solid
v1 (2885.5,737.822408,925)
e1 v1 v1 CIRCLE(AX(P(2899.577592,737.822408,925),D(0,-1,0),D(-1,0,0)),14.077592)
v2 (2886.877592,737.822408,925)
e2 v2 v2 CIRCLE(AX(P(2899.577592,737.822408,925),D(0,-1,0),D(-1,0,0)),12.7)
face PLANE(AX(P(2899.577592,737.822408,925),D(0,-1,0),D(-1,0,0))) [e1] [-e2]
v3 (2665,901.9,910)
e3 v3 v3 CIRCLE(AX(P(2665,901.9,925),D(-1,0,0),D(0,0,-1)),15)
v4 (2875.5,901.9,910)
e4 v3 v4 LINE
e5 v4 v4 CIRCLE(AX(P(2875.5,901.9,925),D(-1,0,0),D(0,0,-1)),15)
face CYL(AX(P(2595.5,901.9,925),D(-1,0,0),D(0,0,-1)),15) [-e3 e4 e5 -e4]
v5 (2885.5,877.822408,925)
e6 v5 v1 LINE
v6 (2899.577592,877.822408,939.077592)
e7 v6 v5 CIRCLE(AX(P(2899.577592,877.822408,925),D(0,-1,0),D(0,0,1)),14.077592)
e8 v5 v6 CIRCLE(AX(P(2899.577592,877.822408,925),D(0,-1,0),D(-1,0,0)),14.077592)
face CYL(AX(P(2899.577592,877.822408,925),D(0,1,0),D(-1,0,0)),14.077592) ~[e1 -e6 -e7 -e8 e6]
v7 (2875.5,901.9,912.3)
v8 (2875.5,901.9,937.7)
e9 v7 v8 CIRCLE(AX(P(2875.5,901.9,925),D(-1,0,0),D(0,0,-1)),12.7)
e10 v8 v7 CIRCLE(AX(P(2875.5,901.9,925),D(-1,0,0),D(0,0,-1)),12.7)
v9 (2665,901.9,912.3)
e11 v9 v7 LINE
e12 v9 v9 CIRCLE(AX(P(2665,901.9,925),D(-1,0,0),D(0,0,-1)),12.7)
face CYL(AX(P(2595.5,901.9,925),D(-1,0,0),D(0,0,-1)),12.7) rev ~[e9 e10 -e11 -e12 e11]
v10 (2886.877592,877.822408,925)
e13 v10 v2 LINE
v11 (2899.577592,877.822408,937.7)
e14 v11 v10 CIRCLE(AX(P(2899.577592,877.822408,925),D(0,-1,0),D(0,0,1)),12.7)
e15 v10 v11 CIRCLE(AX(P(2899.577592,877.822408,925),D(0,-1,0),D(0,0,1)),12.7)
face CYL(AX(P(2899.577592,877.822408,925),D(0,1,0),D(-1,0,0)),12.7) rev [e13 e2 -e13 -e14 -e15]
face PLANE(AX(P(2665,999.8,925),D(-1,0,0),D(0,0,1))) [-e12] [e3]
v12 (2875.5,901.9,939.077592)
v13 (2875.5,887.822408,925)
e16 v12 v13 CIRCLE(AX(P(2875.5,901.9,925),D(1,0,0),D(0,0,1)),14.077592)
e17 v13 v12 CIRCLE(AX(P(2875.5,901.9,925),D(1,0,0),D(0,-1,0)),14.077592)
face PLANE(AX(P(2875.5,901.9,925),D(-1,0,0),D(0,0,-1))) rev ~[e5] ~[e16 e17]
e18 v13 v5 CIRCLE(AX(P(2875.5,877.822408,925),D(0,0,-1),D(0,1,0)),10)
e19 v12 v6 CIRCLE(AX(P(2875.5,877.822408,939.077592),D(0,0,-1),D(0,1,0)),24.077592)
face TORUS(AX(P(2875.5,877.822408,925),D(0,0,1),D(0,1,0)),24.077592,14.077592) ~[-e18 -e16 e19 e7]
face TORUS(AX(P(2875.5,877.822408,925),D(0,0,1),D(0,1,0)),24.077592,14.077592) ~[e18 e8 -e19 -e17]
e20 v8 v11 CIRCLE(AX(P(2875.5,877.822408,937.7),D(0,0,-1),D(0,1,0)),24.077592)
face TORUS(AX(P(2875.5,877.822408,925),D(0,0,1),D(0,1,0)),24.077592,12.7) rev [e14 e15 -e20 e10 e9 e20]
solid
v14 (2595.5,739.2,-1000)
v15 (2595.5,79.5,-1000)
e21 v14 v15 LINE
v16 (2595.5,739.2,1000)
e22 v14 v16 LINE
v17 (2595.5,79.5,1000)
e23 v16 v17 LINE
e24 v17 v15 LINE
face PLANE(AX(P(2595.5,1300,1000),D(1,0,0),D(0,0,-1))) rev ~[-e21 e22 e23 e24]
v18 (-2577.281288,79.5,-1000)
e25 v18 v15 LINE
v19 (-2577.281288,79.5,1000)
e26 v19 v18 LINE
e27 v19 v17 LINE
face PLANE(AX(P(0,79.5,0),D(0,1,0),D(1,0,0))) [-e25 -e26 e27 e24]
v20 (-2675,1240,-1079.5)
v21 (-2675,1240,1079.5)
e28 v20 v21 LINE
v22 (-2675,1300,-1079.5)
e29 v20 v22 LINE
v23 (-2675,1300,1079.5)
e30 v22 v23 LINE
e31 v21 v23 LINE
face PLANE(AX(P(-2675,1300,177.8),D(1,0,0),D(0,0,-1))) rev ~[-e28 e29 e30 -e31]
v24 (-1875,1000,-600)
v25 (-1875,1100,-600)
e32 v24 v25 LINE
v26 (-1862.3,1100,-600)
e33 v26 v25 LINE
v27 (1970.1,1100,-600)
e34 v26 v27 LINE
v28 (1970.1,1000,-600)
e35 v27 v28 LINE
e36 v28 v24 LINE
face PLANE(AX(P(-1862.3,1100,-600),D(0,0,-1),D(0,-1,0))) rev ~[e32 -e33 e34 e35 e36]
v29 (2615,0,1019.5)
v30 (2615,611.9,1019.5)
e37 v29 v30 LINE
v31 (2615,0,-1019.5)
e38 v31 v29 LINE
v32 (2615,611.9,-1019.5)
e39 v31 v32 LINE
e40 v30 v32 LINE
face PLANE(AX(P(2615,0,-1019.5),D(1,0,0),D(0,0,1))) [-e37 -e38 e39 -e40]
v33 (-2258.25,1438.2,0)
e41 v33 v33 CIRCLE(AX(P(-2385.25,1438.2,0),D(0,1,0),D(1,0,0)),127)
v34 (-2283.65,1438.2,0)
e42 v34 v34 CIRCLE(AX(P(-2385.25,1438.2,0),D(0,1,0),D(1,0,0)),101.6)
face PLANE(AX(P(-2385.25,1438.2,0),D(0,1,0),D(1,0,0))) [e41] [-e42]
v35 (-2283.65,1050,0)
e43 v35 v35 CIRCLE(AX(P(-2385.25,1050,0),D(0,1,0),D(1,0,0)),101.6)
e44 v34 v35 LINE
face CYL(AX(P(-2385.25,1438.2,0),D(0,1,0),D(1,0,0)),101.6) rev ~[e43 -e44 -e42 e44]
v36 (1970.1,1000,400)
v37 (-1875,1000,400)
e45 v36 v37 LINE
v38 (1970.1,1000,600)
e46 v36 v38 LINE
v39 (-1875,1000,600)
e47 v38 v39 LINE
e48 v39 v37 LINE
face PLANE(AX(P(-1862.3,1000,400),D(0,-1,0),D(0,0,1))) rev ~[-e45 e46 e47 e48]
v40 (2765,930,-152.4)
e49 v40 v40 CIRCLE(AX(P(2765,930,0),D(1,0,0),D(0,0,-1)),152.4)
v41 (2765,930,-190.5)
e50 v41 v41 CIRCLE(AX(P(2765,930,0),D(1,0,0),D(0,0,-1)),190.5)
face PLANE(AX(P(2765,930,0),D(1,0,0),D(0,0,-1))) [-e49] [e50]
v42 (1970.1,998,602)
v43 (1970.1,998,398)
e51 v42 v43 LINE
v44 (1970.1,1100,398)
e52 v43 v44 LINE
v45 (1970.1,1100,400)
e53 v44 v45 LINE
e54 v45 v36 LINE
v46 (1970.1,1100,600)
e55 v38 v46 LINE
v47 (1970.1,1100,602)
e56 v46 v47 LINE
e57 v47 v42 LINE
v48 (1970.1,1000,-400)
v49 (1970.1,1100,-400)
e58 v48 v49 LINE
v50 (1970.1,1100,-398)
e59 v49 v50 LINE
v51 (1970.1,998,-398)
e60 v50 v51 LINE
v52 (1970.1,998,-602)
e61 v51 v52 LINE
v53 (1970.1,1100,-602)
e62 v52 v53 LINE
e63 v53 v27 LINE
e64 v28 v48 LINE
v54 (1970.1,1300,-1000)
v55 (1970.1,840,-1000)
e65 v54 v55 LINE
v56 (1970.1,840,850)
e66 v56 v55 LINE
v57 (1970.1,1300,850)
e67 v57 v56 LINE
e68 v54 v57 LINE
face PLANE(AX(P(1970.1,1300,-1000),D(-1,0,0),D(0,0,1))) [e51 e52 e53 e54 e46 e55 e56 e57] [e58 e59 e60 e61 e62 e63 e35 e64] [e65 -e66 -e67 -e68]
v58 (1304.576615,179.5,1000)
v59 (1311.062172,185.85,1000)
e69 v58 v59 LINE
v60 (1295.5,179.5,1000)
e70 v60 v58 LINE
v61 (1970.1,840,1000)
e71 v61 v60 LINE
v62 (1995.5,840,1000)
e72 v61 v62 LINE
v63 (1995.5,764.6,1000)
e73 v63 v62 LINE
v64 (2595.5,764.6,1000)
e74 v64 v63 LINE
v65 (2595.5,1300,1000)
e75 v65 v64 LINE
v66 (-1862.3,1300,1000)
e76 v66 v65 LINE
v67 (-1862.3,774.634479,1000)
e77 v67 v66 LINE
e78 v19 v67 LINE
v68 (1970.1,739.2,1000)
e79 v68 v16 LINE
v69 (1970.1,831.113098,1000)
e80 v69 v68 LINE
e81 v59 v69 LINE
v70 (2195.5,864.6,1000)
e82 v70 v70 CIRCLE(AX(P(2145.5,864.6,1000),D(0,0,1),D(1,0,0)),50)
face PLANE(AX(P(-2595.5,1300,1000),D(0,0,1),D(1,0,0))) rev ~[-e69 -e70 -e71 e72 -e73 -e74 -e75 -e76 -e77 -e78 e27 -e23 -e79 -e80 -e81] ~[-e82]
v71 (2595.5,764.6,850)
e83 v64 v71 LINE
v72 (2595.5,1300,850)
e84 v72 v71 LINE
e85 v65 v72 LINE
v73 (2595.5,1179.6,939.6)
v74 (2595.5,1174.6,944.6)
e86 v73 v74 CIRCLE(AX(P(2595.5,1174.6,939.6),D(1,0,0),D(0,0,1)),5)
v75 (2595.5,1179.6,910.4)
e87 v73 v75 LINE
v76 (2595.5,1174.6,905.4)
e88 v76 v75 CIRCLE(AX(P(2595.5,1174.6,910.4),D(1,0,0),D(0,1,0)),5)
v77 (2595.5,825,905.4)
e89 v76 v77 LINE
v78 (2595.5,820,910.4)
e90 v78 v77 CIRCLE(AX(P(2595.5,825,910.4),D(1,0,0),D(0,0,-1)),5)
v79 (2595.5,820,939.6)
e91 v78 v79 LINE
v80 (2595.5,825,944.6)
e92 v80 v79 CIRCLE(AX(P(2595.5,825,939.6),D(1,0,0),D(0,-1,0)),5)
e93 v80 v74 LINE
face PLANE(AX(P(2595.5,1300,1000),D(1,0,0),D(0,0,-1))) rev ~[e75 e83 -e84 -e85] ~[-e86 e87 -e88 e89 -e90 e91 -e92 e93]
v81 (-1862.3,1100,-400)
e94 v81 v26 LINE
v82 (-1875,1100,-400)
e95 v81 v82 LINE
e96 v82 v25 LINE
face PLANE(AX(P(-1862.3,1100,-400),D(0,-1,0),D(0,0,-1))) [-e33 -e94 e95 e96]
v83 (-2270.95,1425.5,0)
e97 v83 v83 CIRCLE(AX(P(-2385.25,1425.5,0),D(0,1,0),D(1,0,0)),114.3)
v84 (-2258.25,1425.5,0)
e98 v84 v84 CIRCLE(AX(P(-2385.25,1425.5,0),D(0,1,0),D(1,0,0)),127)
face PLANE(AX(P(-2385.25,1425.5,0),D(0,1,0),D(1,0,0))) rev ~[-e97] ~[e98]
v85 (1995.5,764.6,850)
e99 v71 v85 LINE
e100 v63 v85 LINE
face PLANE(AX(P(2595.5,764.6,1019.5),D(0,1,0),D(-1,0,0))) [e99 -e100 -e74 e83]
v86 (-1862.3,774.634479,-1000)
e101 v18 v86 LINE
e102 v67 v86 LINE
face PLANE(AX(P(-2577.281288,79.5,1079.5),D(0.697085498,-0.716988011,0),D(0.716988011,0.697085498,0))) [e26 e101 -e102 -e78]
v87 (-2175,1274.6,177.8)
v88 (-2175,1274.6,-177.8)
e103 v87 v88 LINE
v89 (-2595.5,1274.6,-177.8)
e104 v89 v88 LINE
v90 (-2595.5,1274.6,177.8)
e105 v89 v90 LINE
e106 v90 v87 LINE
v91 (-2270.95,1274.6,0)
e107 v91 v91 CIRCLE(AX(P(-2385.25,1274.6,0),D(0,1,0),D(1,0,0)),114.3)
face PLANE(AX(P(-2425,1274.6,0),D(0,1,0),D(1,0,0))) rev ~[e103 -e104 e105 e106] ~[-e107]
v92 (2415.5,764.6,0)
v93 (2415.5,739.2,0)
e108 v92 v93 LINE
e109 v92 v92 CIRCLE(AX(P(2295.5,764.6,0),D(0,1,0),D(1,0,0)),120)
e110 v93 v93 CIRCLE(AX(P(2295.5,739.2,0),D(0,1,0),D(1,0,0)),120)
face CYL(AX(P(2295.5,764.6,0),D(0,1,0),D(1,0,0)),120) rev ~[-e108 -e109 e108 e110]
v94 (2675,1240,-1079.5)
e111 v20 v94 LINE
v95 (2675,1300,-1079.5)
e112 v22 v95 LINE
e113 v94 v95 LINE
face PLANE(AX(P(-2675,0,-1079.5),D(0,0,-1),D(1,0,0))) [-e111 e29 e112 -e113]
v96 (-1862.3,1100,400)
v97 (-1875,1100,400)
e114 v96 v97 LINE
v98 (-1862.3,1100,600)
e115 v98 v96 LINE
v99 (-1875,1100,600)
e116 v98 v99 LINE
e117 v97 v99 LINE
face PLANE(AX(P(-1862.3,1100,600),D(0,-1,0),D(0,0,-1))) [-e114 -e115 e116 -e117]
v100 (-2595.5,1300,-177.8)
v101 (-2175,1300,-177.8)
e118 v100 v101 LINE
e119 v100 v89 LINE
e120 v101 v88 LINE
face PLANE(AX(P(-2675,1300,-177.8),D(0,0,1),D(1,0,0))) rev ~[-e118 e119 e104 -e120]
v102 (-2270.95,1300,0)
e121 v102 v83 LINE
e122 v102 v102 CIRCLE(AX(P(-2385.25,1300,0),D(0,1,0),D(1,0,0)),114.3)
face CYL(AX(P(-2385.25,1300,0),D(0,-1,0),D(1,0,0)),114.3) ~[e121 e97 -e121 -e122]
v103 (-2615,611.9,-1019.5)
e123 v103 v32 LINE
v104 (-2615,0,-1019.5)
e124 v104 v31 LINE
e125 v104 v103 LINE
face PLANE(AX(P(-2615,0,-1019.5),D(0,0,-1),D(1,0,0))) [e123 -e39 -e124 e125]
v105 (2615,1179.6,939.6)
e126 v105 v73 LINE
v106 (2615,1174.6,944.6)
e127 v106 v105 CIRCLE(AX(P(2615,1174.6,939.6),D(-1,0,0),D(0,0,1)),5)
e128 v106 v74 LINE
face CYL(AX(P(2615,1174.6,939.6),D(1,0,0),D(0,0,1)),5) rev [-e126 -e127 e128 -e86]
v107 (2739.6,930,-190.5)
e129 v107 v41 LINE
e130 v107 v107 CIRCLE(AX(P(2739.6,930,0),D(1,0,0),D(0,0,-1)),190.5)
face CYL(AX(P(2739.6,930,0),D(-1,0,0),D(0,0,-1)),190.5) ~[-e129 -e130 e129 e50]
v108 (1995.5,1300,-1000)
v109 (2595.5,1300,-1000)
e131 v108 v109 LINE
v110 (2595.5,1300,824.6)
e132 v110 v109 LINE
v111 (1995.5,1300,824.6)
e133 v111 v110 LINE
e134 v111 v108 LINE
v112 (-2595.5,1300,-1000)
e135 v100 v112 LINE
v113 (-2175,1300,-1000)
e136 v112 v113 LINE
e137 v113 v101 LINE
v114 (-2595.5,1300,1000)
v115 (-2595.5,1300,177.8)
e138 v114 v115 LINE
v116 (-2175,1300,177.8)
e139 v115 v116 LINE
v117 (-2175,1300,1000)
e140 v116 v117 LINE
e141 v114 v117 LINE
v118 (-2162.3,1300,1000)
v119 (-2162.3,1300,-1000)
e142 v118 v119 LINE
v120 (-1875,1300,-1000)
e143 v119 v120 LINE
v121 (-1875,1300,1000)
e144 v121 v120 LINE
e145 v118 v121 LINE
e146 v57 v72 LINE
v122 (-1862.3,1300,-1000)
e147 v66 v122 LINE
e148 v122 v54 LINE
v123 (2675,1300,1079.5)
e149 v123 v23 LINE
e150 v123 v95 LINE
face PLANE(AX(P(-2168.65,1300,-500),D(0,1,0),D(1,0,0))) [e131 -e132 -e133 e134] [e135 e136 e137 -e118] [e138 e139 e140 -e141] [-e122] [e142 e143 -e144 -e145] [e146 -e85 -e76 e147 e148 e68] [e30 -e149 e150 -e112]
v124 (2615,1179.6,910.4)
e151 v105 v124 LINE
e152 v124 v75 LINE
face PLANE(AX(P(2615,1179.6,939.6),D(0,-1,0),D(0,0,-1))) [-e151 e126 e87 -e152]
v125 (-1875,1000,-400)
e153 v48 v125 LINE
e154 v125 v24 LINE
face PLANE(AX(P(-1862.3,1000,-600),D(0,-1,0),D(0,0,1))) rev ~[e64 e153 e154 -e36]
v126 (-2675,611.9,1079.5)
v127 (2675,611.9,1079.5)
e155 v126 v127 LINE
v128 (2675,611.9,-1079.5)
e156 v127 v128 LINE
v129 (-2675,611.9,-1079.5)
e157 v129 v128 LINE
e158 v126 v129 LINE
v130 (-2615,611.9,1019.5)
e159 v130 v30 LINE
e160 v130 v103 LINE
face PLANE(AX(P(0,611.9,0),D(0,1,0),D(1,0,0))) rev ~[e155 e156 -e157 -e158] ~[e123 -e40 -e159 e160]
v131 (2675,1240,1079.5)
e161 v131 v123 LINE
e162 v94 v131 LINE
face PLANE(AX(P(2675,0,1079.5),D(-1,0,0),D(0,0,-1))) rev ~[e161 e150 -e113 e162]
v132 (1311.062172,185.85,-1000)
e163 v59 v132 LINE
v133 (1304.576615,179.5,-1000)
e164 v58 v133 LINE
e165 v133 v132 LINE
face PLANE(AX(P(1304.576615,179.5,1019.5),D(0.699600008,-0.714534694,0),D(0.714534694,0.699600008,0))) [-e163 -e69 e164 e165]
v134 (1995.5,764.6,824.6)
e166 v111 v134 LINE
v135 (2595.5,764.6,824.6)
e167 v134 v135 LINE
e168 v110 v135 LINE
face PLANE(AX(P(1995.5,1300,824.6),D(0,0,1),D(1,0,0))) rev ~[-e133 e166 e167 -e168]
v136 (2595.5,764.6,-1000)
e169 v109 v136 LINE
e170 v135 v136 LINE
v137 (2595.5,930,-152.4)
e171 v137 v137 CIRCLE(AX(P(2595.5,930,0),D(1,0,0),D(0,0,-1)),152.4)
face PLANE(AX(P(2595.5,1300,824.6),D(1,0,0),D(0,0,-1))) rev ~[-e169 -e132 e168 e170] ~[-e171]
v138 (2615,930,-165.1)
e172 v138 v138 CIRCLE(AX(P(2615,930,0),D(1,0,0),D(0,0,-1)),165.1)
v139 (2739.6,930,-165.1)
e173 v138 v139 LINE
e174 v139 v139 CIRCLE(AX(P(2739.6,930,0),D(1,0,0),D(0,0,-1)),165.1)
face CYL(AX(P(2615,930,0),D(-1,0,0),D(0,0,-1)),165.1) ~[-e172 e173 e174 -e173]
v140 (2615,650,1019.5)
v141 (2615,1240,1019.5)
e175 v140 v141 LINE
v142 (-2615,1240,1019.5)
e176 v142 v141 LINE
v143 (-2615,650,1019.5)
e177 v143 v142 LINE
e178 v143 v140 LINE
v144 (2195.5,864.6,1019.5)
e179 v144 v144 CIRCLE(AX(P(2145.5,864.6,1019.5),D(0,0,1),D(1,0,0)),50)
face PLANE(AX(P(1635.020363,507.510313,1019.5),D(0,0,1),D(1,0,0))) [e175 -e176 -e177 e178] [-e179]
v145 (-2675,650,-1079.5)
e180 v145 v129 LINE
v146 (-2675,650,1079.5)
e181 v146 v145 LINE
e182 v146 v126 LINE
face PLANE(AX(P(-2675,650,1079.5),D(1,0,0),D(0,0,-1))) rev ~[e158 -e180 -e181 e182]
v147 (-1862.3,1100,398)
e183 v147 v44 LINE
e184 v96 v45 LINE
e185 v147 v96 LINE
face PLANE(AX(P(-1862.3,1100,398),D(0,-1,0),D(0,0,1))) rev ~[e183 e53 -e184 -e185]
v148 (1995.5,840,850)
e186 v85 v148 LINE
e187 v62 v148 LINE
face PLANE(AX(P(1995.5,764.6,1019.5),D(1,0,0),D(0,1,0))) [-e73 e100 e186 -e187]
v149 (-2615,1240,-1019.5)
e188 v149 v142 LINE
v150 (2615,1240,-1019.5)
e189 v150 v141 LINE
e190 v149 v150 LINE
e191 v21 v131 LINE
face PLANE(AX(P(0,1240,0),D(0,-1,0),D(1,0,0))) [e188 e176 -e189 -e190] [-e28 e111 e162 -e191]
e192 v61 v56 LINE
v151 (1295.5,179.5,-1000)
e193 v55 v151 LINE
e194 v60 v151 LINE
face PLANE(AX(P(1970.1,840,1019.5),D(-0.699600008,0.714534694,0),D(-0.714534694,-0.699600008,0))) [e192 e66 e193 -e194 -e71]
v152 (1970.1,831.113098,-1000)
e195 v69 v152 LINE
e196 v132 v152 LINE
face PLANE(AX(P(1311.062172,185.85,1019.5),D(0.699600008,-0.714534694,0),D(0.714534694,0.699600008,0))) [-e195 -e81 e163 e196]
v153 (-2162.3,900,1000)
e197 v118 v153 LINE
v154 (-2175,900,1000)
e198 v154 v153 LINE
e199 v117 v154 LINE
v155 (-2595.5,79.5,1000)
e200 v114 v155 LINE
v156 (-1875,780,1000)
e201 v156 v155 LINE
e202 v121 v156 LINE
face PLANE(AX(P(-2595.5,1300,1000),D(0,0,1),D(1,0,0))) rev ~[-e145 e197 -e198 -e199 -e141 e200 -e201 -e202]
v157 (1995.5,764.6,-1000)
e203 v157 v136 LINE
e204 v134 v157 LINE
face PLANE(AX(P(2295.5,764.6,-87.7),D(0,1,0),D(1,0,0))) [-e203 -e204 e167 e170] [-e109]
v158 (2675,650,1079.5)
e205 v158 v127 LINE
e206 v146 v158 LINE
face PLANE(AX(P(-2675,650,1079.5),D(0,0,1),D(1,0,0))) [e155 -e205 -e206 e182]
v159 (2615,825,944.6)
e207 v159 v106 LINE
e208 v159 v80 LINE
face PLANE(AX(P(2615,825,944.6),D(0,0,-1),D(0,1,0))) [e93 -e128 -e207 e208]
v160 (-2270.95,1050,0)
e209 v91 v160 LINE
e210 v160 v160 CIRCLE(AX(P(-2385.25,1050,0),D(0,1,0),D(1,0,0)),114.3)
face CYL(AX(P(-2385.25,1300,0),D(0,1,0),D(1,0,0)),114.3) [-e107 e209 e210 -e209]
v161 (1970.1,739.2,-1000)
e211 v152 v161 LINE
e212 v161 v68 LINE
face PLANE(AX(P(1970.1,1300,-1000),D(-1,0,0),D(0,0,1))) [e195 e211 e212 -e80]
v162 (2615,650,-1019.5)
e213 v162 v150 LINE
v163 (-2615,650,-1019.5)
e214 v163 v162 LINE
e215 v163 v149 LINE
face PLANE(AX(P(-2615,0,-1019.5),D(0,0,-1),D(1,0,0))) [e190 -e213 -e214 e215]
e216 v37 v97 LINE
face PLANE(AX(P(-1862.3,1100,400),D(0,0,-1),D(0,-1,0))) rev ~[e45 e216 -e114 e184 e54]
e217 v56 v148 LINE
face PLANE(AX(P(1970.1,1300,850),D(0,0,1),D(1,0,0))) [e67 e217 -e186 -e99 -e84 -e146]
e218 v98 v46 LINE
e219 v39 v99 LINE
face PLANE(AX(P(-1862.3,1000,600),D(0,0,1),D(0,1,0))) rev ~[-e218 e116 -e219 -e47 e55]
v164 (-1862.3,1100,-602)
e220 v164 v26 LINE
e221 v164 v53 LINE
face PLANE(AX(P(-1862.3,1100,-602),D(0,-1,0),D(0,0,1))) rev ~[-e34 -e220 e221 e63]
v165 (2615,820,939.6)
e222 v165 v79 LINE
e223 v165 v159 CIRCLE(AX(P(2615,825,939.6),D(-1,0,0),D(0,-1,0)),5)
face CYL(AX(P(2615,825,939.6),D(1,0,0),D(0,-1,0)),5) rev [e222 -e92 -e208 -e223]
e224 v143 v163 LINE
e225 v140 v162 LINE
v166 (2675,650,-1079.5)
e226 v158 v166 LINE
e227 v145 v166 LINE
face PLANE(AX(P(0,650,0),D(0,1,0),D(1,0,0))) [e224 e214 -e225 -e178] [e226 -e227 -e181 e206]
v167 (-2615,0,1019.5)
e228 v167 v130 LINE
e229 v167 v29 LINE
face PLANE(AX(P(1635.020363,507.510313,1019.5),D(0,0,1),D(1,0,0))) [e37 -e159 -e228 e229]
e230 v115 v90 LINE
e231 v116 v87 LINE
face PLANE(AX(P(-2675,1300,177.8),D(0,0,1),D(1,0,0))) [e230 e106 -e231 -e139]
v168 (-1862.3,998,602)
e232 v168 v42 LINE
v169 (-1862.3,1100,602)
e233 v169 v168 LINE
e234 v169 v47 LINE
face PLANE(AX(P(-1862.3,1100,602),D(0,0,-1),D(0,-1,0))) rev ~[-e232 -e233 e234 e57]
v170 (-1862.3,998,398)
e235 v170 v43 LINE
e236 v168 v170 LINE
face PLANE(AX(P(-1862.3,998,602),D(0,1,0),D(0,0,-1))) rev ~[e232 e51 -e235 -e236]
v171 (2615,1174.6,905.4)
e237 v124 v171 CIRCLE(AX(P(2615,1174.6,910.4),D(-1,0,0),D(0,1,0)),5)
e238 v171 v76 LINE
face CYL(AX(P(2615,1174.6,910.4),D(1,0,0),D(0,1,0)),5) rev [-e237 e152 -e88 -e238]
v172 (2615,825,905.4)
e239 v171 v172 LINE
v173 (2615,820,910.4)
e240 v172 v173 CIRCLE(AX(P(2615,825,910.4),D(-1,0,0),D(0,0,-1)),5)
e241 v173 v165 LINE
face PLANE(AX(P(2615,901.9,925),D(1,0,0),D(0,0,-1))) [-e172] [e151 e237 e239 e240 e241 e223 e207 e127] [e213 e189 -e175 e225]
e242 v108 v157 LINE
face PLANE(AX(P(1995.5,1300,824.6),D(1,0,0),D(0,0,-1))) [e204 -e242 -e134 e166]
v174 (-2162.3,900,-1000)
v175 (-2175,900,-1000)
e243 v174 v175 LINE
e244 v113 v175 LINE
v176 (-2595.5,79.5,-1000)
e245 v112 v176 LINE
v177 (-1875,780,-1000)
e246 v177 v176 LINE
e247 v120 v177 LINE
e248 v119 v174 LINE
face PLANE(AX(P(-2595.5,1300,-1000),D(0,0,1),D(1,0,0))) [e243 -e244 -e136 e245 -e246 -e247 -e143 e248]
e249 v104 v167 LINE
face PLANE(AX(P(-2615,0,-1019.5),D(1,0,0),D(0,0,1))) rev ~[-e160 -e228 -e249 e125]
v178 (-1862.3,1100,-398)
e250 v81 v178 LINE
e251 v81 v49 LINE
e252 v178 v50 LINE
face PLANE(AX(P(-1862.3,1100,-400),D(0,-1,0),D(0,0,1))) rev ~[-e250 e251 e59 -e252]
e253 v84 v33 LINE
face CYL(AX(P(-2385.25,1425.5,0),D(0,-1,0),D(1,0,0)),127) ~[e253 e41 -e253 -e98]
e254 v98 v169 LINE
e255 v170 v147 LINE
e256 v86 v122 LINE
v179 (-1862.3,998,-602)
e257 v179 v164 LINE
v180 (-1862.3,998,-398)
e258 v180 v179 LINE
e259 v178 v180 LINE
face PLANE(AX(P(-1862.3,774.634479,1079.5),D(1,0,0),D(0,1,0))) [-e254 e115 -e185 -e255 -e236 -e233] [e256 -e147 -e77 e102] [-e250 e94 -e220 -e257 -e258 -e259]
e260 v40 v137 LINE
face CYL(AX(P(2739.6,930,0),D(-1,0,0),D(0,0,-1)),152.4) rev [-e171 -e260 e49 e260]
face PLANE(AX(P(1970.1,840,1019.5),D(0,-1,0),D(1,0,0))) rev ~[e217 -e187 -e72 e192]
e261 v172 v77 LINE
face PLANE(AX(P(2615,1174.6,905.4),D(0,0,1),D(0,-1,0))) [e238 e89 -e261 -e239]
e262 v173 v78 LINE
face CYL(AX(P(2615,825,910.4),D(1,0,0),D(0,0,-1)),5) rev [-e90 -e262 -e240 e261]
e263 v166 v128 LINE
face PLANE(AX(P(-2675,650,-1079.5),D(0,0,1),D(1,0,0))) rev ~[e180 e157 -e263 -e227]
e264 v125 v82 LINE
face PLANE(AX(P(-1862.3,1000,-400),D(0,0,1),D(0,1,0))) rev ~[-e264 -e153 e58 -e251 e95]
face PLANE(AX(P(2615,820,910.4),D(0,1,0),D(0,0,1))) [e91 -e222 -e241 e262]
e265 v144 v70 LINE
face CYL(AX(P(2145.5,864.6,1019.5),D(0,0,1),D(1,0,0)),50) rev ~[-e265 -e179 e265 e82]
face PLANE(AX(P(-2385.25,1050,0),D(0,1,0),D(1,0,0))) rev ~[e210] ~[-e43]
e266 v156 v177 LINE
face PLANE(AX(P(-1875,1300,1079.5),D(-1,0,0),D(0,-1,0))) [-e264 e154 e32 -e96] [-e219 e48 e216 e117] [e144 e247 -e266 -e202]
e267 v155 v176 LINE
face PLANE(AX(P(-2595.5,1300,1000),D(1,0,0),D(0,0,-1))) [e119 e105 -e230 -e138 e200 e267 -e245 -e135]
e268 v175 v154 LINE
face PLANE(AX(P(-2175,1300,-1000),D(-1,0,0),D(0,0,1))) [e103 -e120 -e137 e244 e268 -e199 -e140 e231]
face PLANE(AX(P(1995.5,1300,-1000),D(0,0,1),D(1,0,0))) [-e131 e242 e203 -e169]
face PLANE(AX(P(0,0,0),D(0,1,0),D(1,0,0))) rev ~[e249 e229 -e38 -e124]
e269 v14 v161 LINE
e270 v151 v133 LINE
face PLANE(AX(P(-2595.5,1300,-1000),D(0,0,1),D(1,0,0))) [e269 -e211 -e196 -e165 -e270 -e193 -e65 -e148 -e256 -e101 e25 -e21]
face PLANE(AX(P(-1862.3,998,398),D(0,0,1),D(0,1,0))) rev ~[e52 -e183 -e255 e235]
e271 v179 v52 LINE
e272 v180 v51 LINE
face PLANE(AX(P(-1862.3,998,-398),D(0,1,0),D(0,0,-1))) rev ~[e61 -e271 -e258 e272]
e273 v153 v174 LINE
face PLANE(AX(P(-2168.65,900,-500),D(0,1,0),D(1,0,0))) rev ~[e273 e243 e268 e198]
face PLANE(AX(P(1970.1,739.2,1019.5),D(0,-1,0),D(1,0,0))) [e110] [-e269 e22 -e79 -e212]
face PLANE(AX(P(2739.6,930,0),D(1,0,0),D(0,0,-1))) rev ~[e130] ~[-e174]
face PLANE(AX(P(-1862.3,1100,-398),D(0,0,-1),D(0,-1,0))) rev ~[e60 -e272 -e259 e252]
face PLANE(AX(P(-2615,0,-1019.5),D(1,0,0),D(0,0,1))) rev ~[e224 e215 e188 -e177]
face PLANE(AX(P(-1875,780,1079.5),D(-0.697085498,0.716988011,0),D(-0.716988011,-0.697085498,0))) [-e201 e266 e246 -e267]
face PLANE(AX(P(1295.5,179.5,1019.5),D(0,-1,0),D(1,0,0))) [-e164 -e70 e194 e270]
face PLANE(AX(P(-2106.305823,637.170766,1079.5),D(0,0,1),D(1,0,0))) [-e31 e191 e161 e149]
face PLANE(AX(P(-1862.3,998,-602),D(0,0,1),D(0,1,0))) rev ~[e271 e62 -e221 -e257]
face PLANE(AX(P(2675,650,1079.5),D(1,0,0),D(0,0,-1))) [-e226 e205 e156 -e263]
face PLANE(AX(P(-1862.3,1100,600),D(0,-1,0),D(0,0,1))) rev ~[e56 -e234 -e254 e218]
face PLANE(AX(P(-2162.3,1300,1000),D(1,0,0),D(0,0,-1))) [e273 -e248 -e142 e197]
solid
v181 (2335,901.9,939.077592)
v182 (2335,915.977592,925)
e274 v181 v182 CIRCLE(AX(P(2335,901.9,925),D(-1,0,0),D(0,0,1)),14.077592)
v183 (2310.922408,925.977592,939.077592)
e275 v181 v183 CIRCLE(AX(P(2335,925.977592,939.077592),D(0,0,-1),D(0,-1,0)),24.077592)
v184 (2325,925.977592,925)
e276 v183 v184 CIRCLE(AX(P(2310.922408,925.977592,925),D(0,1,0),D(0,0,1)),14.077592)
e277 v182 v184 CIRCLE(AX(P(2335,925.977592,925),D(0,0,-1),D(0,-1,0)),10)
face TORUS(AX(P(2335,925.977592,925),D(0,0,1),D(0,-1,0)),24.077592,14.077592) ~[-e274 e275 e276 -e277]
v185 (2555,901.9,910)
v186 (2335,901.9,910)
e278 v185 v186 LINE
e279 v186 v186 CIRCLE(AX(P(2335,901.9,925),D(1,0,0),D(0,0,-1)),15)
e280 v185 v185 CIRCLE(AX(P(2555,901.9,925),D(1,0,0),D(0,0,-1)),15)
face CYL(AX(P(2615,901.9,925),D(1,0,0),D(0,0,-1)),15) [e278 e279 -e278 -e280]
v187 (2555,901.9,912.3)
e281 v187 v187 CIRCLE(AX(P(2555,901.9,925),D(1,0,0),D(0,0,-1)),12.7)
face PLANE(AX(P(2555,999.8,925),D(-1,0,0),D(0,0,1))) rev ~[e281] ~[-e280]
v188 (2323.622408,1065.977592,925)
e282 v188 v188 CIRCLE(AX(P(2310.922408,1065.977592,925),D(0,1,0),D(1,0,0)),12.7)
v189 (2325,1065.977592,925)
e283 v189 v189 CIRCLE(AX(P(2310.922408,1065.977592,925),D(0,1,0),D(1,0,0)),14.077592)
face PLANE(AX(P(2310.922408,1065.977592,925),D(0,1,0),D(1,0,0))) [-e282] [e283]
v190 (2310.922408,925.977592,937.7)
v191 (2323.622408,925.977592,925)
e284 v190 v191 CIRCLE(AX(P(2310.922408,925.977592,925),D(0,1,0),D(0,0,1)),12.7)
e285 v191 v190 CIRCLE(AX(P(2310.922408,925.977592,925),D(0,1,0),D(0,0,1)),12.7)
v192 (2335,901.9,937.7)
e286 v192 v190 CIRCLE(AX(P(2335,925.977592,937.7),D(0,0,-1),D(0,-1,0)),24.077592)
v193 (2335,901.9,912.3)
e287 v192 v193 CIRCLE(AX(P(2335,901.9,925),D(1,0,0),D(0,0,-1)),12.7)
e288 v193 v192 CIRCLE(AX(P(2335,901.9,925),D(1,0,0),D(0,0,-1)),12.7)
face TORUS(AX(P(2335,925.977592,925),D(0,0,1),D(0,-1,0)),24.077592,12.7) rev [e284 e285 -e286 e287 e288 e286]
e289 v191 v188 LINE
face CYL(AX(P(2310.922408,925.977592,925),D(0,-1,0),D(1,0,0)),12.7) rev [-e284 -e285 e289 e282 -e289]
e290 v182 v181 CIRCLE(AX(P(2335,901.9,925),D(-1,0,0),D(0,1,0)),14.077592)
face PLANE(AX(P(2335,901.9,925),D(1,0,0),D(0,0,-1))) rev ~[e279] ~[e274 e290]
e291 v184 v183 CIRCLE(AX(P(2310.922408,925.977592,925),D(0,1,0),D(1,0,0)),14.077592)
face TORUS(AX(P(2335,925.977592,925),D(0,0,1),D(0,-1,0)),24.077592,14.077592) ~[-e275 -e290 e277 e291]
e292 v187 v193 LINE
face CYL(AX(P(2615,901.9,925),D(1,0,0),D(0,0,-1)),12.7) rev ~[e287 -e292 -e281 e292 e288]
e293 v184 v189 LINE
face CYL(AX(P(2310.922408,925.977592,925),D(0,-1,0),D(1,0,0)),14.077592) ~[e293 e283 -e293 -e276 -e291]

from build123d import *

# Parameters (mm, degrees)
ESBO_O1_W                      = 5350
ESBO_O1_H                      = 2159
RESSALTO_EXTRUS_O1_DEPTH       = 1300
ESBO_O2_W                      = 5191
ESBO_O2_H                      = 2000
CORTE_EXTRUS_O1_DEPTH          = 1220.5
RESSALTO_EXTRUS_O6_DEPTH       = 2079.5
ESBO_O4_W                      = 5350
ESBO_O4_H                      = 2159
ESBO_O4_W_2                    = 5230
ESBO_O4_H_2                    = 2039
CORTE_EXTRUS_O2_DEPTH          = 1240
ESBO_O8_R                      = 152.4
CORTE_EXTRUS_O3_DEPTH          = 19.5
ESBO_O8_3_R                    = 165.1
ESBO_O8_3_R_2                  = 152.4
RESSALTO_EXTRUS_O7_DEPTH       = 124.6
ESBO_O10_R                     = 190.5
ESBO_O10_R_2                   = 152.4
RESSALTO_EXTRUS_O8_DEPTH       = 25.4
ESBO_O12_W                     = 600
ESBO_O12_H                     = 1824.6
RESSALTO_EXTRUS_O10_DEPTH      = 560.8
ESBO_O12_4_W                   = 600
ESBO_O12_4_H                   = 1824.6
CORTE_EXTRUS_O4_DEPTH          = 535.4
ESBO_O16_W                     = 500
ESBO_O16_H                     = 355.6
RESSALTO_EXTRUS_O11_DEPTH      = 25.4
RESSALTO_EXTRUS_O12_DEPTH      = 400
ESBO_O17_R                     = 114.3
RESSALTO_EXTRUS_O13_DEPTH      = 125.5
RESSALTO_EXTRUS_O13_DEPTH_BACK = 250
ESBO_O18_R                     = 127
RESSALTO_EXTRUS_O14_DEPTH      = 12.7
CORTE_EXTRUS_O6_REACH          = 1440.2
ESBO_O19_R                     = 101.6
CORTE_EXTRUS_O7_REACH          = 814.7
ESBO_O20_W                     = 100
ESBO_O20_H                     = 100
ESBO_O20_W_2                   = 200
RESSALTO_EXTRUS_O15_DEPTH      = 3832.4
CORTE_EXTRUS_O8_REACH          = 766.6
ESBO_O24_R                     = 120
ESBO_O23_W                     = 25.4
ESBO_O23_H                     = 75.4
RESSALTO_EXTRUS_O16_DEPTH      = 169.5
RESSALTO_EXTRUS_O20_DEPTH      = 2019.5
ESBO_O33_W                     = 5350
ESBO_O33_H                     = 2159
ESBO_O33_W_2                   = 5230
ESBO_O33_H_2                   = 2039
RESSALTO_EXTRUS_O21_DEPTH      = 38.1
ESBO_O34_R                     = 15
ESBO_O34_R_2                   = 12.7
RESSALTO_EXTRUS_O22_DEPTH      = 280
ESBO_O35_R                     = 12.7
REVOLU_O1_ANGLE                = 90
ESBO_O36_R                     = 14.07759158
ESBO_O36_R_2                   = 12.7
RESSALTO_EXTRUS_O23_DEPTH      = 140
PADR_OCIRCULAR1_COUNT          = 2
ESBO_O38_R                     = 50
CORTE_EXTRUS_O11_DEPTH         = 19.5
CUT_EXTRUDE1_DEPTH             = 50
CUT_EXTRUDE1_DEPTH_BACK        = 60


with BuildPart() as part:
    # Esboço1 → Ressalto-extrusão1 (new body)
    with BuildSketch(Plane(origin=(0, 0, 0), x_dir=(1, 0, 0), z_dir=(0, 1, 0))):
        Rectangle(ESBO_O1_W, ESBO_O1_H)
    extrude(amount=RESSALTO_EXTRUS_O1_DEPTH)

    # Esboço2 → Corte-extrusão1 (cut)
    with BuildSketch(Plane(origin=(0, 1300, 0), x_dir=(1, 0, 0), z_dir=(0, 1, 0))):
        Rectangle(ESBO_O2_W, ESBO_O2_H)
    extrude(amount=-CORTE_EXTRUS_O1_DEPTH, mode=Mode.SUBTRACT)

    # Esboço3 → Ressalto-extrusão6 (add)
    with BuildSketch(Plane.XY.offset(1079.5)):
        Polygon((-2595.5, 79.5), (-2577.281287908, 79.5), (-1862.3, 774.634479084), (-1862.3, 1300), (-1875, 1300), (-1875, 780), align=None)
    extrude(amount=-RESSALTO_EXTRUS_O6_DEPTH)

    # Esboço4 → Corte-extrusão2 (cut)
    with BuildSketch(Plane.XZ):
        Rectangle(ESBO_O4_W, ESBO_O4_H)
        Rectangle(ESBO_O4_W_2, ESBO_O4_H_2, mode=Mode.SUBTRACT)
    extrude(amount=-CORTE_EXTRUS_O2_DEPTH, mode=Mode.SUBTRACT)

    # Esboço8 → Corte-extrusão3 (cut)
    with BuildSketch(Plane(origin=(2615, 0, 0), x_dir=(0, 0, -1), z_dir=(1, 0, 0))):
        with Locations((0, 930)):
            Circle(ESBO_O8_R)
    extrude(amount=-CORTE_EXTRUS_O3_DEPTH, mode=Mode.SUBTRACT)

    # Esboço8<3> → Ressalto-extrusão7 (add)
    with BuildSketch(Plane(origin=(2615, 0, 0), x_dir=(0, 0, -1), z_dir=(1, 0, 0))):
        with Locations((0, 930)):
            Circle(ESBO_O8_3_R)
        with Locations((0, 930)):
            Circle(ESBO_O8_3_R_2, mode=Mode.SUBTRACT)
    extrude(amount=RESSALTO_EXTRUS_O7_DEPTH)

    # Esboço10 → Ressalto-extrusão8 (add)
    with BuildSketch(Plane(origin=(2739.6, 0, 0), x_dir=(0, 0, -1), z_dir=(1, 0, 0))):
        with Locations((0, 930)):
            Circle(ESBO_O10_R)
        with Locations((0, 930)):
            Circle(ESBO_O10_R_2, mode=Mode.SUBTRACT)
    extrude(amount=RESSALTO_EXTRUS_O8_DEPTH)

    # Esboço12 → Ressalto-extrusão10 (add)
    with BuildSketch(Plane(origin=(0, 1300, 0), x_dir=(1, 0, 0), z_dir=(0, 1, 0))):
        Polygon((1995.5, -824.6), (1995.5, 1000), (1970.1, 1000), (1970.1, -850), (2595.5, -850), (2595.5, -824.6), align=None)
        with Locations((2295.5, 87.7)):
            Rectangle(ESBO_O12_W, ESBO_O12_H)
    extrude(amount=-RESSALTO_EXTRUS_O10_DEPTH)

    # Esboço12<4> → Corte-extrusão4 (cut)
    with BuildSketch(Plane(origin=(0, 1300, 0), x_dir=(1, 0, 0), z_dir=(0, 1, 0))):
        with Locations((2295.5, 87.7)):
            Rectangle(ESBO_O12_4_W, ESBO_O12_4_H)
    extrude(amount=-CORTE_EXTRUS_O4_DEPTH, mode=Mode.SUBTRACT)

    # Esboço16 → Ressalto-extrusão11 (add)
    with BuildSketch(Plane(origin=(0, 1300, 0), x_dir=(1, 0, 0), z_dir=(0, 1, 0))):
        with Locations((-2425, 0)):
            Rectangle(ESBO_O16_W, ESBO_O16_H)
    extrude(amount=-RESSALTO_EXTRUS_O11_DEPTH)

    # Esboço16<3> → Ressalto-extrusão12 (add)
    with BuildSketch(Plane(origin=(0, 1300, 0), x_dir=(1, 0, 0), z_dir=(0, 1, 0))):
        Polygon((-2175, 177.8), (-2175, 0), (-2162.3, 0), (-2162.3, 1000), (-2175, 1000), align=None)
        Polygon((-2162.3, 0), (-2175, 0), (-2175, -177.8), (-2175, -1000), (-2162.3, -1000), align=None)
    extrude(amount=-RESSALTO_EXTRUS_O12_DEPTH)

    # Esboço17 → Ressalto-extrusão13 (add, two sides)
    with BuildSketch(Plane(origin=(0, 1300, 0), x_dir=(1, 0, 0), z_dir=(0, 1, 0))) as ressalto_extrus_o13_sk:
        with Locations((-2385.25, 0)):
            Circle(ESBO_O17_R)
    extrude(amount=RESSALTO_EXTRUS_O13_DEPTH)
    extrude(ressalto_extrus_o13_sk.sketch, amount=-RESSALTO_EXTRUS_O13_DEPTH_BACK)

    # Esboço18 → Ressalto-extrusão14 (add)
    with BuildSketch(Plane(origin=(0, 1425.5, 0), x_dir=(1, 0, 0), z_dir=(0, 1, 0))):
        with Locations((-2385.25, 0)):
            Circle(ESBO_O18_R)
    extrude(amount=RESSALTO_EXTRUS_O14_DEPTH)

    # Esboço19 → Corte-extrusão6 (cut, up to next)
    with BuildSketch(Plane(origin=(0, 1438.2, 0), x_dir=(1, 0, 0), z_dir=(0, 1, 0)), mode=Mode.PRIVATE) as corte_extrus_o6_sk1:
        with Locations((-2385.25, 0)):
            Circle(ESBO_O19_R)
    corte_extrus_o6_tool1 = extrude(corte_extrus_o6_sk1.sketch, amount=-CORTE_EXTRUS_O6_REACH, mode=Mode.PRIVATE) & part.part
    add(corte_extrus_o6_tool1.solids().sort_by_distance((-2385.25, 1438.2, 0))[0], mode=Mode.SUBTRACT)

    # Esboço20 → Corte-extrusão7 (cut, up to next)
    with BuildSketch(Plane(origin=(-1862.3, 0, 0), x_dir=(0, 0, -1), z_dir=(1, 0, 0)), mode=Mode.PRIVATE) as corte_extrus_o7_sk1:
        with Locations((-450, 1050)):
            Rectangle(ESBO_O20_W, ESBO_O20_H)
    corte_extrus_o7_tool1 = extrude(corte_extrus_o7_sk1.sketch, amount=-CORTE_EXTRUS_O7_REACH, mode=Mode.PRIVATE) & part.part
    add(corte_extrus_o7_tool1.solids().sort_by_distance((-1862.3, 1050, 450))[0], mode=Mode.SUBTRACT)
    # Esboço20 → Corte-extrusão7 (cut, up to next)
    with BuildSketch(Plane(origin=(-1862.3, 0, 0), x_dir=(0, 0, -1), z_dir=(1, 0, 0)), mode=Mode.PRIVATE) as corte_extrus_o7_sk2:
        with Locations((-550, 1050)):
            Rectangle(ESBO_O20_W, ESBO_O20_H)
    corte_extrus_o7_tool2 = extrude(corte_extrus_o7_sk2.sketch, amount=-CORTE_EXTRUS_O7_REACH, mode=Mode.PRIVATE) & part.part
    add(corte_extrus_o7_tool2.solids().sort_by_distance((-1862.3, 1050, 550))[0], mode=Mode.SUBTRACT)
    # Esboço20 → Corte-extrusão7 (cut, up to next)
    with BuildSketch(Plane(origin=(-1862.3, 0, 0), x_dir=(0, 0, -1), z_dir=(1, 0, 0)), mode=Mode.PRIVATE) as corte_extrus_o7_sk3:
        with Locations((500, 1050)):
            Rectangle(ESBO_O20_W_2, ESBO_O20_H)
    corte_extrus_o7_tool3 = extrude(corte_extrus_o7_sk3.sketch, amount=-CORTE_EXTRUS_O7_REACH, mode=Mode.PRIVATE) & part.part
    add(corte_extrus_o7_tool3.solids().sort_by_distance((-1862.3, 1050, -500))[0], mode=Mode.SUBTRACT)

    # Esboço21 → Ressalto-extrusão15 (add)
    with BuildSketch(Plane(origin=(-1862.3, 0, 0), x_dir=(0, 0, -1), z_dir=(1, 0, 0))):
        Polygon((-600, 1000), (-600, 1100), (-602, 1100), (-602, 998), (-398, 998), (-398, 1100), (-400, 1100), (-400, 1000), align=None)
        Polygon((400, 1100), (398, 1100), (398, 998), (602, 998), (602, 1100), (600, 1100), (600, 1000), (400, 1000), align=None)
    extrude(amount=RESSALTO_EXTRUS_O15_DEPTH)

    # Esboço24 → Corte-extrusão8 (cut, up to next)
    with BuildSketch(Plane(origin=(0, 764.6, 0), x_dir=(1, 0, 0), z_dir=(0, 1, 0)), mode=Mode.PRIVATE) as corte_extrus_o8_sk1:
        with Locations((2295.5, 0)):
            Circle(ESBO_O24_R)
    corte_extrus_o8_tool1 = extrude(corte_extrus_o8_sk1.sketch, amount=-CORTE_EXTRUS_O8_REACH, mode=Mode.PRIVATE) & part.part
    add(corte_extrus_o8_tool1.solids().sort_by_distance((2295.5, 764.6, 0))[0], mode=Mode.SUBTRACT)

    # Esboço23 → Ressalto-extrusão16 (add)
    with BuildSketch(Plane.XY.offset(1019.5)):
        with Locations((1982.8, 802.3)):
            Rectangle(ESBO_O23_W, ESBO_O23_H)
        Polygon((1995.5, 764.6), (1970.1, 764.6), (1970.1, 739.2), (2595.5, 739.2), (2595.5, 764.6), align=None)
    extrude(amount=-RESSALTO_EXTRUS_O16_DEPTH)

    # Esboço32 → Ressalto-extrusão20 (add)
    with BuildSketch(Plane.XY.offset(1019.5)):
        Polygon((1970.1, 831.113097721), (1970.1, 840), (1295.5, 179.5), (1304.576615106, 179.5), (1311.062171502, 185.85), align=None)
    extrude(amount=-RESSALTO_EXTRUS_O20_DEPTH)

    # Esboço33 → Ressalto-extrusão21 (add)
    with BuildSketch(Plane(origin=(0, 650, 0), x_dir=(1, 0, 0), z_dir=(0, 1, 0))):
        Rectangle(ESBO_O33_W, ESBO_O33_H)
        Rectangle(ESBO_O33_W_2, ESBO_O33_H_2, mode=Mode.SUBTRACT)
    extrude(amount=-RESSALTO_EXTRUS_O21_DEPTH)

    # Esboço34 → Ressalto-extrusão22 (add)
    with BuildSketch(Plane(origin=(2615, 0, 0), x_dir=(0, 0, -1), z_dir=(1, 0, 0))):
        with Locations((-925, 901.9)):
            Circle(ESBO_O34_R)
        with Locations((-925, 901.9)):
            Circle(ESBO_O34_R_2, mode=Mode.SUBTRACT)
    ressalto_extrus_o22 = extrude(amount=-RESSALTO_EXTRUS_O22_DEPTH)

    # Esboço35 → Revolução1 (revolve)
    with BuildSketch(Plane.ZY.offset(-2335)):
        with BuildLine():
            ThreePointArc((925, 915.97759158), (915.045639531, 891.945639531), (939.07759158, 901.9))
            ThreePointArc((939.07759158, 901.9), (934.954360469, 911.854360469), (925, 915.97759158))
        make_face()
        with Locations((925, 901.9)):
            Circle(ESBO_O35_R, mode=Mode.SUBTRACT)
    revolu_o1 = revolve(axis=Axis((2335, 925.97759158, 925), (0, 0, -1)), revolution_arc=REVOLU_O1_ANGLE)

    # Esboço36 → Ressalto-extrusão23 (add)
    with BuildSketch(Plane(origin=(0, 925.97759158, 0), x_dir=(1, 0, 0), z_dir=(0, 1, 0))):
        with Locations((2310.92240842, -925)):
            Circle(ESBO_O36_R)
        with Locations((2310.92240842, -925)):
            Circle(ESBO_O36_R_2, mode=Mode.SUBTRACT)
    ressalto_extrus_o23 = extrude(amount=RESSALTO_EXTRUS_O23_DEPTH)

    # PadrãoCircular1: Ressalto-extrusão22, Revolução1, Ressalto-extrusão23 ×2 about axis
    padr_ocircular1_axis = Axis((2605.25, 901.9, 0), (0, 0, 1))
    for i in range(1, PADR_OCIRCULAR1_COUNT):
        add(ressalto_extrus_o22.rotate(padr_ocircular1_axis, i * 360 / PADR_OCIRCULAR1_COUNT))
        add(revolu_o1.rotate(padr_ocircular1_axis, i * 360 / PADR_OCIRCULAR1_COUNT))
        add(ressalto_extrus_o23.rotate(padr_ocircular1_axis, i * 360 / PADR_OCIRCULAR1_COUNT))

    # Esboço38 → Corte-extrusão11 (cut)
    with BuildSketch(Plane.XY.offset(1019.5)):
        with Locations((2145.5, 864.6)):
            Circle(ESBO_O38_R)
    extrude(amount=-CORTE_EXTRUS_O11_DEPTH, mode=Mode.SUBTRACT)

    # Sketch1 → Cut-Extrude1 (cut, two sides)
    with BuildSketch(Plane(origin=(2615, 0, 0), x_dir=(0, 0, -1), z_dir=(1, 0, 0))) as cut_extrude1_sk:
        with BuildLine():
            Line((-939.6, 1179.6), (-910.4, 1179.6))
            ThreePointArc((-910.4, 1179.6), (-906.864466094, 1178.135533906), (-905.4, 1174.6))
            Line((-905.4, 1174.6), (-905.4, 825))
            ThreePointArc((-905.4, 825), (-906.864466094, 821.464466094), (-910.4, 820))
            Line((-910.4, 820), (-939.6, 820))
            ThreePointArc((-939.6, 820), (-943.135533906, 821.464466094), (-944.6, 825))
            Line((-944.6, 825), (-944.6, 1174.6))
            ThreePointArc((-944.6, 1174.6), (-943.135533906, 1178.135533906), (-939.6, 1179.6))
        make_face()
    extrude(amount=CUT_EXTRUDE1_DEPTH, mode=Mode.SUBTRACT)
    extrude(cut_extrude1_sk.sketch, amount=-CUT_EXTRUDE1_DEPTH_BACK, mode=Mode.SUBTRACT)


solid = part.part
